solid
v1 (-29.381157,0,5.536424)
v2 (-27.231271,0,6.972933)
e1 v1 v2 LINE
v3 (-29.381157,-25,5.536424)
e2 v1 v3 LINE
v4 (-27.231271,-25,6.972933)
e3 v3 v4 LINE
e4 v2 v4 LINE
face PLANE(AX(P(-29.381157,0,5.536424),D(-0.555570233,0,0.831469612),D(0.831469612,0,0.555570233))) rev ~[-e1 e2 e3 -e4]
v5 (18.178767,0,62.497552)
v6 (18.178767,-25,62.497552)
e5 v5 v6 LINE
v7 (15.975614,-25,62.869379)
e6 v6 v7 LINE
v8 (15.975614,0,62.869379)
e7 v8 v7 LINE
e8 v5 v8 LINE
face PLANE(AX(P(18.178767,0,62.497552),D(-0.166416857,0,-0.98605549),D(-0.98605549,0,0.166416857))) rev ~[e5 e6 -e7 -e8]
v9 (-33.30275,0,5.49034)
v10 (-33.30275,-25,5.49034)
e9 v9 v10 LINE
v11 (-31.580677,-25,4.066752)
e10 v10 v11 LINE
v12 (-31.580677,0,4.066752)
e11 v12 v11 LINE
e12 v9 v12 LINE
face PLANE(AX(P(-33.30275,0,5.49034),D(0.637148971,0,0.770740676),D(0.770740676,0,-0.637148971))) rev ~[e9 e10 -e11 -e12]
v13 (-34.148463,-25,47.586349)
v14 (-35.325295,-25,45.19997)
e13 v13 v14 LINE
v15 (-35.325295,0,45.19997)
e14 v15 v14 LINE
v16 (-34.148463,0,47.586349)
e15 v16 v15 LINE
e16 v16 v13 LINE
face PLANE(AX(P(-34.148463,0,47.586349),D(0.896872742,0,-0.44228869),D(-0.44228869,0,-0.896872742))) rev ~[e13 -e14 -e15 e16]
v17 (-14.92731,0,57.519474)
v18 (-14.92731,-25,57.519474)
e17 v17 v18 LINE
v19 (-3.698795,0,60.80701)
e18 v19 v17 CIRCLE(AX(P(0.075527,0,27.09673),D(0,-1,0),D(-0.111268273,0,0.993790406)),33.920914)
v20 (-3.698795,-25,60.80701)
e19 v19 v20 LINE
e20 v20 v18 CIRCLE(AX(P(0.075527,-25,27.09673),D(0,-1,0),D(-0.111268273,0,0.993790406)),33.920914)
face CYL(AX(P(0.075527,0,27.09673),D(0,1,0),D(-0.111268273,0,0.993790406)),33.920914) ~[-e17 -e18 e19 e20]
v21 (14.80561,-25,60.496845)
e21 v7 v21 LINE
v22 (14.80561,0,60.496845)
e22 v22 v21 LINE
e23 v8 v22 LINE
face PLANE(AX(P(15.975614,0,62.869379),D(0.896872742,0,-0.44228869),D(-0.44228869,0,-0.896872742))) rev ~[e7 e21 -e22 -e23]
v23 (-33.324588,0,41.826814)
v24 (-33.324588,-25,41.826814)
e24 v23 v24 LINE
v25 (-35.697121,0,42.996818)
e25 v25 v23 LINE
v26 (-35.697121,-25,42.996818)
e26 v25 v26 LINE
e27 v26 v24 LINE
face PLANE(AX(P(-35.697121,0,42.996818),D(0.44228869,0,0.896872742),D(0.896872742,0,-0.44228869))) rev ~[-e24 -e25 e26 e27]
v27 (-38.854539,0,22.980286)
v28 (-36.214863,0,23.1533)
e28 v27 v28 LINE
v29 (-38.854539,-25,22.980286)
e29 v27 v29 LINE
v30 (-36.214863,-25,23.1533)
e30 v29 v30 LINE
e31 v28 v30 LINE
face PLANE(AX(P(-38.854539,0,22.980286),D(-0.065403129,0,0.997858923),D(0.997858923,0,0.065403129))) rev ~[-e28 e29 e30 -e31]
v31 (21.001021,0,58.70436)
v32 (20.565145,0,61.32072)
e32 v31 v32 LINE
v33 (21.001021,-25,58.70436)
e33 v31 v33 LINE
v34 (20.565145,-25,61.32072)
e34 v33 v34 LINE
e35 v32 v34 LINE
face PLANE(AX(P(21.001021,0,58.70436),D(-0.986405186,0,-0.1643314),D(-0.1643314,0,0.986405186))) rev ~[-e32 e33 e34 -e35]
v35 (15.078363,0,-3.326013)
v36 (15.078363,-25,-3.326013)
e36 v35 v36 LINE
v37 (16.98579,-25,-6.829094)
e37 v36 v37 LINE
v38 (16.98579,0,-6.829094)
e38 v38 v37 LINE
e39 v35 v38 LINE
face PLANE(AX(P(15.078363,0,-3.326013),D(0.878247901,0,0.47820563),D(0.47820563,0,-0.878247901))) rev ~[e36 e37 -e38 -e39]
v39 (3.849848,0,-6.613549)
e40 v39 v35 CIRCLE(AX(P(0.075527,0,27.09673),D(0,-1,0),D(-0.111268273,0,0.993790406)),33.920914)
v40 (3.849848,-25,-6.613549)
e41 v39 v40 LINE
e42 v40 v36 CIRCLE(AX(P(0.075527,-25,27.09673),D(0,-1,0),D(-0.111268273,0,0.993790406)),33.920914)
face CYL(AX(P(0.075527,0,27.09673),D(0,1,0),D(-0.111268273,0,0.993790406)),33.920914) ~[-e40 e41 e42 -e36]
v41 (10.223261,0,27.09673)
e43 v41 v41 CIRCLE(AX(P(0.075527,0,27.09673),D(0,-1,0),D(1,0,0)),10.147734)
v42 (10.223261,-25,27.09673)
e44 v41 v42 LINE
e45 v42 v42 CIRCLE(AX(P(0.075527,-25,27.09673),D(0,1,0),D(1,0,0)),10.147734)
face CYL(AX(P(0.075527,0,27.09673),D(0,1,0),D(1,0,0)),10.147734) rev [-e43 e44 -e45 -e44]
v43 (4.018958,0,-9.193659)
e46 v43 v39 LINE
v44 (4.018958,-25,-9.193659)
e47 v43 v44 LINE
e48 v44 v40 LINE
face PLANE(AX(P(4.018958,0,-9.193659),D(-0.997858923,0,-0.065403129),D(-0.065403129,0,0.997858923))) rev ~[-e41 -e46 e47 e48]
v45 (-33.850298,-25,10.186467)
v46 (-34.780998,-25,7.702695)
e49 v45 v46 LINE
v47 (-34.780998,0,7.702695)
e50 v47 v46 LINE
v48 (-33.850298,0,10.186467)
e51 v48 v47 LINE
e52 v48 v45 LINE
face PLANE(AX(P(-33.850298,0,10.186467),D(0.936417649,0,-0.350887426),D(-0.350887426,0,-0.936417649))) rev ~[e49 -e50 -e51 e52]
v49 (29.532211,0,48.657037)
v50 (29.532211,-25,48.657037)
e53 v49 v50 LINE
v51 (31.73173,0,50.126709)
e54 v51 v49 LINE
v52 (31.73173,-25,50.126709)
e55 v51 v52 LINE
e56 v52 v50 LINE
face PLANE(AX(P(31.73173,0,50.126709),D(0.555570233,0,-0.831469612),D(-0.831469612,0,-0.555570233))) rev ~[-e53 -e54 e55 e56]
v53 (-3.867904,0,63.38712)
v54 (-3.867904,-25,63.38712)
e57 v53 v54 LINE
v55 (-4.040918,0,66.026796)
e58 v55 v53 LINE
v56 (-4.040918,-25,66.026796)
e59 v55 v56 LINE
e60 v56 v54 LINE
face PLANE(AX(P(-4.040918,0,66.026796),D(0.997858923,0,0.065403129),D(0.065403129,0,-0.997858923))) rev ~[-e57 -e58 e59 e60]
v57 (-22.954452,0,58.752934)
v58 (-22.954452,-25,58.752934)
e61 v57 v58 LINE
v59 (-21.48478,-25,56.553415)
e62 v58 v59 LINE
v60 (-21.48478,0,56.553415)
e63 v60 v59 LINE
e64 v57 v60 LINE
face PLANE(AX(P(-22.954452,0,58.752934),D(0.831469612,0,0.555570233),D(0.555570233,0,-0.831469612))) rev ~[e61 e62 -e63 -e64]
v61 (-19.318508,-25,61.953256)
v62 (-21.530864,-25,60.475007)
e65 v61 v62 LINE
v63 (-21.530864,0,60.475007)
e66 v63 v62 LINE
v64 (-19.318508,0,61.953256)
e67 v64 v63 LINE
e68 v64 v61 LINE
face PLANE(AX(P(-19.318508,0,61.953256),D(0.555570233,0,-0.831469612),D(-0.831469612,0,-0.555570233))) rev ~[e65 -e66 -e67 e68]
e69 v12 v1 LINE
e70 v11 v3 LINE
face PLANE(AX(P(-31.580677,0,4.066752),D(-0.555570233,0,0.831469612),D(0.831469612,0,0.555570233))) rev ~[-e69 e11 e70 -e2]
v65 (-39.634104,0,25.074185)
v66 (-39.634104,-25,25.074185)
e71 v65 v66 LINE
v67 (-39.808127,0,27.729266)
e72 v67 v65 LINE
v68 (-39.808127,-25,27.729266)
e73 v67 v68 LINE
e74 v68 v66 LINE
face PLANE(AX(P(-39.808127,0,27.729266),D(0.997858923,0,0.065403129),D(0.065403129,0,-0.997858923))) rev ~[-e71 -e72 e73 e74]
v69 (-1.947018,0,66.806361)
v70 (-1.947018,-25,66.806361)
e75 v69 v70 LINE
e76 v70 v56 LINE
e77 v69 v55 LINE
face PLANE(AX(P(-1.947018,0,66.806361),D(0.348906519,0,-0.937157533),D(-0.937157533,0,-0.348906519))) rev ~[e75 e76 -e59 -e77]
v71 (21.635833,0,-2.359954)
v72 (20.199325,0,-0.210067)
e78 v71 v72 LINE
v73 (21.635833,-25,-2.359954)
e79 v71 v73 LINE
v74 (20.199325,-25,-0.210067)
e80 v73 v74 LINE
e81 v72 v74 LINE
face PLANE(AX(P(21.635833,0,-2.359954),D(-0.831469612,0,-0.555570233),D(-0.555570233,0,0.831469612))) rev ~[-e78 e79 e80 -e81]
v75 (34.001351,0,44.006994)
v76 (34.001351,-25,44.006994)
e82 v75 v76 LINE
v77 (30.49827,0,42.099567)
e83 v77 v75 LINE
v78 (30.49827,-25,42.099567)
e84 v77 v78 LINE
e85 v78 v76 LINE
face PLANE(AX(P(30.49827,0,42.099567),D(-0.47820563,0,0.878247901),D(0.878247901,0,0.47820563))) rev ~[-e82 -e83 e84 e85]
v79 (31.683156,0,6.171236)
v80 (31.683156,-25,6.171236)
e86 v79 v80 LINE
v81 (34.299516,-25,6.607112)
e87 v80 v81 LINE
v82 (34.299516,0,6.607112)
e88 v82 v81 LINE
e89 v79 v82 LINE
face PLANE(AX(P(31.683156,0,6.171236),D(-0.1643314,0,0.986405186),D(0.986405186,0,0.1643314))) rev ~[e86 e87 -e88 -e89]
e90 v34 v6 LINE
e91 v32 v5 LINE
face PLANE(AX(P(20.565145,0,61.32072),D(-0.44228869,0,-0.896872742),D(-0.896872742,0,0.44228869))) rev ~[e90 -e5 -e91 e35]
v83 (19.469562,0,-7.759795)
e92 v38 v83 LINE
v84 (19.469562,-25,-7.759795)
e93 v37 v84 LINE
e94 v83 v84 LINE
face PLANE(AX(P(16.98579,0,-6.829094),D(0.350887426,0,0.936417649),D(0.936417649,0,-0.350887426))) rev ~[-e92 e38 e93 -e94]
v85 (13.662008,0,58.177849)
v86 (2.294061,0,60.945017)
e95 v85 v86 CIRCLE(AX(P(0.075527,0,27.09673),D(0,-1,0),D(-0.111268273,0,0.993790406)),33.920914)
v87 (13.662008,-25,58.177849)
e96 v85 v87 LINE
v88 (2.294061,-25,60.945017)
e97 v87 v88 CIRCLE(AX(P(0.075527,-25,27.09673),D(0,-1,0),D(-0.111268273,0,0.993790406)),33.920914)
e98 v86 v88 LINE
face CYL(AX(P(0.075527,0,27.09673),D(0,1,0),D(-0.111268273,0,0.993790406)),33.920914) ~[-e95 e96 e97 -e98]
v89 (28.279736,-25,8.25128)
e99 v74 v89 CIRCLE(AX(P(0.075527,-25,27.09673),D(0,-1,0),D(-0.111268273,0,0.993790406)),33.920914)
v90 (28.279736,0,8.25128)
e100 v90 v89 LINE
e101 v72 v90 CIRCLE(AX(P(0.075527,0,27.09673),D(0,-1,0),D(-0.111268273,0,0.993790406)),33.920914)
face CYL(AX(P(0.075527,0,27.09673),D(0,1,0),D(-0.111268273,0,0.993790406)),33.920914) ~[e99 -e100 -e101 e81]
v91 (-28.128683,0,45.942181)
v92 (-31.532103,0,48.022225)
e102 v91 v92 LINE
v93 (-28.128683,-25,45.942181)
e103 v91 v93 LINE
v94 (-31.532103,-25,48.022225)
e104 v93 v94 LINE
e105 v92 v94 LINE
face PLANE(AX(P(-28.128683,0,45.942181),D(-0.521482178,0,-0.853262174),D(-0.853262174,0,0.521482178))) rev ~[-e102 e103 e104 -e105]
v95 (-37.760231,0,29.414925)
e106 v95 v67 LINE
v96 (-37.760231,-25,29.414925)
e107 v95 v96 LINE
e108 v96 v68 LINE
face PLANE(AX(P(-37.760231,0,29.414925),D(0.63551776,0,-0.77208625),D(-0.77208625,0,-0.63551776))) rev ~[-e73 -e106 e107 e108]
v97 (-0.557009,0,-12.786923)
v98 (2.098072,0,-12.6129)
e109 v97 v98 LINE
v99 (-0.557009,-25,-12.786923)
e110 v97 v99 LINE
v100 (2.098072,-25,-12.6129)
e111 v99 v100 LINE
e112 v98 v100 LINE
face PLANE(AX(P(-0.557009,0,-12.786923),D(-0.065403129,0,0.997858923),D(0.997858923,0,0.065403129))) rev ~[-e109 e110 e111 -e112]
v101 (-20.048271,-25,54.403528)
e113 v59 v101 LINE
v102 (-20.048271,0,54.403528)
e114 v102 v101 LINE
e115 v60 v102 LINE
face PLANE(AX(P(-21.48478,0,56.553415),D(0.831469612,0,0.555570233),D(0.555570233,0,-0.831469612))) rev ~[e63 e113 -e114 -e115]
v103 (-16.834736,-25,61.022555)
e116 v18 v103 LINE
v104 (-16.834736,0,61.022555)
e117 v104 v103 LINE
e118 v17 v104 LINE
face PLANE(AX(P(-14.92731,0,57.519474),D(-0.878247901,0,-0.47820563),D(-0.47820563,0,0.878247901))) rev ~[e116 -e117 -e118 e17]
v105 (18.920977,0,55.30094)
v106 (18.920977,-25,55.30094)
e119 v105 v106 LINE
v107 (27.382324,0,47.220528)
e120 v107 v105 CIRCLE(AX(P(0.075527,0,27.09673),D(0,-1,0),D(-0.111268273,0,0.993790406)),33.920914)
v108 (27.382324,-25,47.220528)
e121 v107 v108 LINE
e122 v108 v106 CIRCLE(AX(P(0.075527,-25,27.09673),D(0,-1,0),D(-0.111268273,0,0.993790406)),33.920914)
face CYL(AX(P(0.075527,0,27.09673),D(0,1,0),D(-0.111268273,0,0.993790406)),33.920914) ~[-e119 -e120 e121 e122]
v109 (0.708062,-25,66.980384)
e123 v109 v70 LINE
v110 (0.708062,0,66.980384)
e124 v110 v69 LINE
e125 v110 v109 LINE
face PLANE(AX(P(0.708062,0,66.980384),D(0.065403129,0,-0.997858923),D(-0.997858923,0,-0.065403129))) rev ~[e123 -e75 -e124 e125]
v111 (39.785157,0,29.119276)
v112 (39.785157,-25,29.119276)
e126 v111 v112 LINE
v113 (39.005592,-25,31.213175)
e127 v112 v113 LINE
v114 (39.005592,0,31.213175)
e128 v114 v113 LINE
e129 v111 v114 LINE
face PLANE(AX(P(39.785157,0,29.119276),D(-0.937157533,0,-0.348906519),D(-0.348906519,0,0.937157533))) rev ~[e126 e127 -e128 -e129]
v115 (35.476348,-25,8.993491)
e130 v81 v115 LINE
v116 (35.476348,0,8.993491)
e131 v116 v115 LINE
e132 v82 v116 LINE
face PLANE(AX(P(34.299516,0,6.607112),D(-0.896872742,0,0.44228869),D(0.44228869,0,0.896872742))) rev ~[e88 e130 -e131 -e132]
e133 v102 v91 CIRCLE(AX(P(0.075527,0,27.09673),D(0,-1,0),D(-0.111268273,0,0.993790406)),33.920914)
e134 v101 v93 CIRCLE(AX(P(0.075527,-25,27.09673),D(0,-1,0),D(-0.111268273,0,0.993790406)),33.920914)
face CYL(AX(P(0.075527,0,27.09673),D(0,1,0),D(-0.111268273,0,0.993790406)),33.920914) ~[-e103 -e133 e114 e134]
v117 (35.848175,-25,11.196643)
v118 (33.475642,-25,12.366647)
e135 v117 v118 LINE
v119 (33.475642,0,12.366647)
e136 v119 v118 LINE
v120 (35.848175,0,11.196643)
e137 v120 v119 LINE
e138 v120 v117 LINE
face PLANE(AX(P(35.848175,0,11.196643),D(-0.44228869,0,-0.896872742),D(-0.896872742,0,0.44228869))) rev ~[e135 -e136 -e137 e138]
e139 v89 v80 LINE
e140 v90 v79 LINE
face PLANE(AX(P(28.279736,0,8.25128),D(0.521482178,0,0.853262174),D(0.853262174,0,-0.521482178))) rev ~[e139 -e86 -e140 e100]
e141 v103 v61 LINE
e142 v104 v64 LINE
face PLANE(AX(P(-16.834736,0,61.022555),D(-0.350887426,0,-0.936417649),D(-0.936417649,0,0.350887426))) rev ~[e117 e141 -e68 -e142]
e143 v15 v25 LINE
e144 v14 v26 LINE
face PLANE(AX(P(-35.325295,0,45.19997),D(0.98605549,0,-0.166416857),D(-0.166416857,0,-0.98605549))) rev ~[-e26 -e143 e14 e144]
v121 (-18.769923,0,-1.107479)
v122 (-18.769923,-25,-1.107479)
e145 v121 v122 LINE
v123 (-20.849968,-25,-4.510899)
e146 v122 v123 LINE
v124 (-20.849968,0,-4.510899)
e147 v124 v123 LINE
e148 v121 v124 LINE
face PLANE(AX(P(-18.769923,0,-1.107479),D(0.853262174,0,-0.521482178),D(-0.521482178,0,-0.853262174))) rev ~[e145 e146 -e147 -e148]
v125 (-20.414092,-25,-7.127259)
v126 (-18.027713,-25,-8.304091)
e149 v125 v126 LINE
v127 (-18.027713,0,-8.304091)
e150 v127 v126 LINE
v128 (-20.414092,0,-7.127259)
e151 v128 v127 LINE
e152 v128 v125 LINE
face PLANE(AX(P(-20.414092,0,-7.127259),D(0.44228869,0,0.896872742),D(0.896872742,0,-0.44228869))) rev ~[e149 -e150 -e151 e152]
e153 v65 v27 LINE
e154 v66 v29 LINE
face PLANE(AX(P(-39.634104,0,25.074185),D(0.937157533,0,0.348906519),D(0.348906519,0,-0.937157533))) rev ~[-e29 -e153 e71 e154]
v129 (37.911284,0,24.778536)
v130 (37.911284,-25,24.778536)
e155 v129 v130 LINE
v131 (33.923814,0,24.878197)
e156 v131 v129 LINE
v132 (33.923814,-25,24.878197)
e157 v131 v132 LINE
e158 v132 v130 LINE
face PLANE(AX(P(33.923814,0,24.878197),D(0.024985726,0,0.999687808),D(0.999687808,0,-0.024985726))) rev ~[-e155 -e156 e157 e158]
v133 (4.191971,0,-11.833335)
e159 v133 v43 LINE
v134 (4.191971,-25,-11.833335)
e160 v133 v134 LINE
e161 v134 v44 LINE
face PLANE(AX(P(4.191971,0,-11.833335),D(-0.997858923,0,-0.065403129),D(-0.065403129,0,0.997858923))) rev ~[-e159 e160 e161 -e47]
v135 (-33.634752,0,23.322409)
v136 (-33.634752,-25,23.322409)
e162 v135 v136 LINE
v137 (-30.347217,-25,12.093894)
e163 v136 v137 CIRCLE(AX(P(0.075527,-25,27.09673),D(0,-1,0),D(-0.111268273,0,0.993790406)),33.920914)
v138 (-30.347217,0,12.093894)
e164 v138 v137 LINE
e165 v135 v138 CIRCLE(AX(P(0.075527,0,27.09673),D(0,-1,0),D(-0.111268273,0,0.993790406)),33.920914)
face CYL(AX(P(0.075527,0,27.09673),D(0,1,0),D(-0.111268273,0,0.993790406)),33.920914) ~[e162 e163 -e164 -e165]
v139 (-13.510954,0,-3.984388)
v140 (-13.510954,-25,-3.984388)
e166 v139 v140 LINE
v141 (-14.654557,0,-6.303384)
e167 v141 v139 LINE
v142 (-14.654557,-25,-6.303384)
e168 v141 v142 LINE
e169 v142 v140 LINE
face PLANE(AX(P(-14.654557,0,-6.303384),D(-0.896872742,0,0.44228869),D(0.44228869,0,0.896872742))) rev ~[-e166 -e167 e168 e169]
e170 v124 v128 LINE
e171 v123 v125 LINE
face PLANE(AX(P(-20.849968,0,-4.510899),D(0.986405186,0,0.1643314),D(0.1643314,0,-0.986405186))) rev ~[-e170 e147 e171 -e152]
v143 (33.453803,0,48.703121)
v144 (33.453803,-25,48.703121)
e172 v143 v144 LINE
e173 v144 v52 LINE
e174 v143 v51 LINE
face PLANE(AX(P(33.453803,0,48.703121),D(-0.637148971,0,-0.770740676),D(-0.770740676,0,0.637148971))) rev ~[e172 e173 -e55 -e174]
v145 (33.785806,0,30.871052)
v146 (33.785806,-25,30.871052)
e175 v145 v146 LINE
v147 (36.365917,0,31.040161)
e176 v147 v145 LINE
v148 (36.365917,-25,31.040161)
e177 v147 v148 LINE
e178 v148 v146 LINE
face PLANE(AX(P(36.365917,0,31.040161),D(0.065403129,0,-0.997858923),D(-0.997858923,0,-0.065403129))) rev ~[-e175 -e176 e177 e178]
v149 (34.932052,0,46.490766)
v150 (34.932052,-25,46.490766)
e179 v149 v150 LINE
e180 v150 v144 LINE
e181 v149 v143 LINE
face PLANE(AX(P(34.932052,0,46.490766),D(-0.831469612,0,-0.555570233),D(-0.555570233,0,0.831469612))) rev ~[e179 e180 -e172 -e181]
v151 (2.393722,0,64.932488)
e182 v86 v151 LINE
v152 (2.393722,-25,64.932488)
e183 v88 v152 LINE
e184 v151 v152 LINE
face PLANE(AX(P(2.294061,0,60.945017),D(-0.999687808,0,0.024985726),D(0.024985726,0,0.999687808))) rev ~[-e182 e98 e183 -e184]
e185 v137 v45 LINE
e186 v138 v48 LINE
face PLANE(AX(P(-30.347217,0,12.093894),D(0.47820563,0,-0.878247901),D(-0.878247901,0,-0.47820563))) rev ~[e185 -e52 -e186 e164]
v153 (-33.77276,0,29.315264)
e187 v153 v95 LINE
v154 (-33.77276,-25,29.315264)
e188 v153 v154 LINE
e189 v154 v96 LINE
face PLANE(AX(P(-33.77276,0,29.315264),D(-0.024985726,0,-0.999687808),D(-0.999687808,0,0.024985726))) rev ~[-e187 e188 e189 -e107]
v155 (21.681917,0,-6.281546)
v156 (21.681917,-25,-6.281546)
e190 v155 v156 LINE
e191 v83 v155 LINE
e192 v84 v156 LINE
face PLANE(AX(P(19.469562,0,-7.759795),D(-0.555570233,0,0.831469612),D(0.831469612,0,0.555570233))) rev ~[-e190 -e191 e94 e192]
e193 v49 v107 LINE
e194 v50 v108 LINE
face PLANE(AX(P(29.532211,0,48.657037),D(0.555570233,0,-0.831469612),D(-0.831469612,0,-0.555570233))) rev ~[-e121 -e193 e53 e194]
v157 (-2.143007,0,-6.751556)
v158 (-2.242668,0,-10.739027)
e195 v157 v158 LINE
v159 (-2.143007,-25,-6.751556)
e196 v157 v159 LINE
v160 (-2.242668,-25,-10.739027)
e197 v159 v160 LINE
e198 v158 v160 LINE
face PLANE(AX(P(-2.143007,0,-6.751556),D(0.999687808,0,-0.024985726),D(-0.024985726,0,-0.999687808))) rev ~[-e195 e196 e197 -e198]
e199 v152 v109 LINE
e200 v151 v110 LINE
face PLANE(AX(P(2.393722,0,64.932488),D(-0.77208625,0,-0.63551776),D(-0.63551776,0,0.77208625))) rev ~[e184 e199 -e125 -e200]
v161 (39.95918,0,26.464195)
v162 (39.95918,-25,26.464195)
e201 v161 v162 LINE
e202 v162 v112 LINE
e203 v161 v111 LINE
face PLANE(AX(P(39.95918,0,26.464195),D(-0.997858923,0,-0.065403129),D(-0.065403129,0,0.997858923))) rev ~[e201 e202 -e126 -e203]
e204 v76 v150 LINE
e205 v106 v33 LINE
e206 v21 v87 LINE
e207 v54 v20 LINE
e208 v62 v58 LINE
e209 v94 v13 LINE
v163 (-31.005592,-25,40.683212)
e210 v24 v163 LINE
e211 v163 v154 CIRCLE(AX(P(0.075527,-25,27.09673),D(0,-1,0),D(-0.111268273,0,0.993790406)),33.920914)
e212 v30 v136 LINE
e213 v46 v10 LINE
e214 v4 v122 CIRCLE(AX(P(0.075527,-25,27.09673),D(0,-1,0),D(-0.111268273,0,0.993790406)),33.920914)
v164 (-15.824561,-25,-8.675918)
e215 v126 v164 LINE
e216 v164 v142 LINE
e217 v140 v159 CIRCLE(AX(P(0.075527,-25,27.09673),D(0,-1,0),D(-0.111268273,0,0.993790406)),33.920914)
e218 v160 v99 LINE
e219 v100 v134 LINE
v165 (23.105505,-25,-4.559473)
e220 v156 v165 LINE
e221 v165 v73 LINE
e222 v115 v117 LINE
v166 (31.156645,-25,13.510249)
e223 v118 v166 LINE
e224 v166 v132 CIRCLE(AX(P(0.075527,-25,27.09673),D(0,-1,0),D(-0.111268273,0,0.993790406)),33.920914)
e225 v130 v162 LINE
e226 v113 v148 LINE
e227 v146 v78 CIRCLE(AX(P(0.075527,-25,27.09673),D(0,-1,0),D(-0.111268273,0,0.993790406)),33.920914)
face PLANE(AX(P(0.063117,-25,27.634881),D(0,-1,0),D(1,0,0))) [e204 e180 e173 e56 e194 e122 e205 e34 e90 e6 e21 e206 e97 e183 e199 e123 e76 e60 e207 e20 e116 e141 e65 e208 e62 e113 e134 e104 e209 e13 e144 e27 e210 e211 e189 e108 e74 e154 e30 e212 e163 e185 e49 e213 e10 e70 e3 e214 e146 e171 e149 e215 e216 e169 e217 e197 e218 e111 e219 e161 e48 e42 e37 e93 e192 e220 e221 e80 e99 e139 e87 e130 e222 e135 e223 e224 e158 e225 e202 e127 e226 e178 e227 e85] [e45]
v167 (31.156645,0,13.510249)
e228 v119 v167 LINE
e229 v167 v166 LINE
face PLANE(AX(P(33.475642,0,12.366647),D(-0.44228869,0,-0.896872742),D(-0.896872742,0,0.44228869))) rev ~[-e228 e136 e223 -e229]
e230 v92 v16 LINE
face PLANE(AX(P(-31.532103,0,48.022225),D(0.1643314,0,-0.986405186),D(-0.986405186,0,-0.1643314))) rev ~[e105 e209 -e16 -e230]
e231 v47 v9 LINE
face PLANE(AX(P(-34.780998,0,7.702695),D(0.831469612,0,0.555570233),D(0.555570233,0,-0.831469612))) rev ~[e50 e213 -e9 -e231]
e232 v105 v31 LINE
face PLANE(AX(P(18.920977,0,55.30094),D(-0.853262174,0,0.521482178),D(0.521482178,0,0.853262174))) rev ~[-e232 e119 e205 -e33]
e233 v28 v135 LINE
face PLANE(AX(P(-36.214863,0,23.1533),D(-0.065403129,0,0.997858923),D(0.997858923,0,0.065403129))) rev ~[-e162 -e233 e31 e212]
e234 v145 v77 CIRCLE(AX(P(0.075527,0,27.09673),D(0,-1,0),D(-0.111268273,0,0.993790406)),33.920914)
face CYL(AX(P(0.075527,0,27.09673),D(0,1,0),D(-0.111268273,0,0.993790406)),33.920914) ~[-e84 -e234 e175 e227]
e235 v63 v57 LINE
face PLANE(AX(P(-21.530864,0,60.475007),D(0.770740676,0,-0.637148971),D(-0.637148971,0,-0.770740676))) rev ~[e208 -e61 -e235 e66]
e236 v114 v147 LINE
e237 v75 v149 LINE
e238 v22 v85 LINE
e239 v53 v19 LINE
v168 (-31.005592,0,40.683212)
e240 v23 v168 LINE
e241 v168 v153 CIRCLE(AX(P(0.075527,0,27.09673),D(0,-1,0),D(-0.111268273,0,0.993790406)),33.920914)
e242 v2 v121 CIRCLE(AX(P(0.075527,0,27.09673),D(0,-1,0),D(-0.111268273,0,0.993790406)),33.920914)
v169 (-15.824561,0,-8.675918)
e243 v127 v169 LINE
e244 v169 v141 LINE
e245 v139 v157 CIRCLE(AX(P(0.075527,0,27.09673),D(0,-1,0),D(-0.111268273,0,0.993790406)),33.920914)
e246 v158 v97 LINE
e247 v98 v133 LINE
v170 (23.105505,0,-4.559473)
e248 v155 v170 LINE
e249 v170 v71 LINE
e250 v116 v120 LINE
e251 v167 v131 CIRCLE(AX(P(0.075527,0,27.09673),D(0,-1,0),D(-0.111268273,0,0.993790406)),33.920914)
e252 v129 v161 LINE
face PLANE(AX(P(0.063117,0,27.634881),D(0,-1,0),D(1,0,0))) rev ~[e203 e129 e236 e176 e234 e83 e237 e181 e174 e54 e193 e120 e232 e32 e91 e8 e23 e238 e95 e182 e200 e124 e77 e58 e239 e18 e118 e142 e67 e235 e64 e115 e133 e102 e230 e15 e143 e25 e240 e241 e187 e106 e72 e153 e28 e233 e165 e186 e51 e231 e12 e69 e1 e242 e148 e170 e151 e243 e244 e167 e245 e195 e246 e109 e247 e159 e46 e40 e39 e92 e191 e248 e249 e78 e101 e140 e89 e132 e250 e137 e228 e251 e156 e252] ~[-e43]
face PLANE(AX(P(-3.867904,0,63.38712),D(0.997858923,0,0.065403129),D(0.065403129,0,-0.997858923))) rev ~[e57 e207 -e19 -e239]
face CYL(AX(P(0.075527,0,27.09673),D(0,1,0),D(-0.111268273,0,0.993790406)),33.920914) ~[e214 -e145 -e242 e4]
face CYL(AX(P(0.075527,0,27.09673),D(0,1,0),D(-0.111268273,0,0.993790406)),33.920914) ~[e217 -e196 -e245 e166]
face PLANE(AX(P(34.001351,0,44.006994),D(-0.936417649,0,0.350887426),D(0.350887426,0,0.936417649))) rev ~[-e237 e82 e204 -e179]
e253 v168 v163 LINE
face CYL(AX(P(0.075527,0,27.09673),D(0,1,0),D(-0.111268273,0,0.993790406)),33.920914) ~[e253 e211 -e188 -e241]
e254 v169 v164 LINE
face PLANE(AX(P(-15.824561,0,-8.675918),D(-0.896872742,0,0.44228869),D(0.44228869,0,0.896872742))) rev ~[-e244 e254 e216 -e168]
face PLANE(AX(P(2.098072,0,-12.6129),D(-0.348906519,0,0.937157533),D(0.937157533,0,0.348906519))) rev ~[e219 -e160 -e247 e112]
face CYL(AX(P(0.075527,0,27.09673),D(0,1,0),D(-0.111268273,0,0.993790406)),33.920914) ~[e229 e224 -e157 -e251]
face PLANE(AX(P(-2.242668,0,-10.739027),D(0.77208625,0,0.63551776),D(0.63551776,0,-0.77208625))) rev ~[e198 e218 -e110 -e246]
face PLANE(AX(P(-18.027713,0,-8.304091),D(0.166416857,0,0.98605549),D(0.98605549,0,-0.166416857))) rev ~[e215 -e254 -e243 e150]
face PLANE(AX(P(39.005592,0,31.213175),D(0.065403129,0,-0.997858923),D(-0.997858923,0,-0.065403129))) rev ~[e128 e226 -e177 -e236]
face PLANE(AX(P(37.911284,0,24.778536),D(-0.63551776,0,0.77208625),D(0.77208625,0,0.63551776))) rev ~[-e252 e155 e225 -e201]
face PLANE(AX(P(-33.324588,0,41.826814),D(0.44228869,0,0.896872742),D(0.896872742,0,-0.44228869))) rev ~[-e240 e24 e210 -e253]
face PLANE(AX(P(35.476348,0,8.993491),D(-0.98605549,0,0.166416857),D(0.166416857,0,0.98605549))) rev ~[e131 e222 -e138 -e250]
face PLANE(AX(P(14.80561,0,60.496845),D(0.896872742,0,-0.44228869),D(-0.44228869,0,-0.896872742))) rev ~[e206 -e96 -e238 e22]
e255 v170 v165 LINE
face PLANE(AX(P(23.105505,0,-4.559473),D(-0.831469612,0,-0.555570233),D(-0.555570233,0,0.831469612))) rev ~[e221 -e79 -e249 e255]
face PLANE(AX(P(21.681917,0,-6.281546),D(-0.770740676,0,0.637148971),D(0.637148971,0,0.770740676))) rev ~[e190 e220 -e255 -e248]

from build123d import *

# Parameters (mm, degrees)
F0_R     = 21.7005672346
F0_R_2   = 10.1477344841
F1_DEPTH = 25
F2_COUNT = 12


with BuildPart() as f1:
    # F0 (on Front) → F1 (new body)
    with BuildSketch(Plane.XZ):
        with BuildLine():
            Line((0.0755267103, 61.0092692077), (-0.678219289, 61.0092692077))
            ThreePointArc((-0.678219289, 61.0092692077), (-1.4109604477, 60.9850584399), (-2.1430072202, 60.9450173375))
            ThreePointArc((-2.1430072202, 60.9450173375), (-2.9216954454, 60.8849691932), (-3.6987948092, 60.8070095215))
            ThreePointArc((-3.6987948092, 60.8070095215), (0.8564750407, -6.8151927129), (2.2940606408, 60.9450173375))
            Line((2.2940606408, 60.9450173375), (0.0755267103, 61.0092692077))
        make_face()
        with BuildLine():
            ThreePointArc((-1.4440762441, 52.1542261029), (17.2807567209, 45.3769750136), (25.1790579289, 27.0967304878))
            ThreePointArc((25.1790579289, 27.0967304878), (-17.1297033003, 8.816485962), (-1.4440762441, 52.1542261029))
        make_face(mode=Mode.SUBTRACT)
        with BuildLine():
            ThreePointArc((-1.4440762441, 52.1542261029), (-17.1297033003, 8.816485962), (25.1790579289, 27.0967304878))
            ThreePointArc((25.1790579289, 27.0967304878), (17.2807567209, 45.3769750136), (-1.4440762441, 52.1542261029))
        make_face()
        with Locations((0.0755267103, 27.0967304878)):
            Circle(F0_R, mode=Mode.SUBTRACT)
        with Locations((0.0755267103, 27.0967304878)):
            Circle(F0_R)
        with Locations((0.0755267103, 27.0967304878)):
            Circle(F0_R_2, mode=Mode.SUBTRACT)
        with BuildLine():
            ThreePointArc((-2.1430072202, 60.9450173375), (-1.4109604477, 60.9850584399), (-0.678219289, 61.0092692077))
            Line((-0.678219289, 61.0092692077), (0.0755267103, 61.0092692077))
            Line((0.0755267103, 61.0092692077), (2.2940606408, 60.9450173375))
            Line((2.2940606408, 60.9450173375), (2.3937216029, 64.932487905))
            Line((2.3937216029, 64.932487905), (0.7080621371, 66.9803842463))
            Line((0.7080621371, 66.9803842463), (-1.9470183179, 66.8063610792))
            Line((-1.9470183179, 66.8063610792), (-4.0409177, 66.0267961504))
            Line((-4.0409177, 66.0267961504), (-3.8679042053, 63.38712032))
            Line((-3.8679042053, 63.38712032), (-3.6987948092, 60.8070095215))
            ThreePointArc((-3.6987948092, 60.8070095215), (-2.9216954454, 60.8849691932), (-2.1430072202, 60.9450173375))
        make_face()
    extrude(amount=F1_DEPTH)

    # F2: F1 ×12 about axis
    f2_axis = Axis((0.0755267103, 0, 27.0967304878), (0, 1, 0))


with BuildPart() as f1_1:
    add(f1.part)
    for i in range(1, F2_COUNT):
        add(f1.part.rotate(f2_axis, i * 360 / F2_COUNT))


solid = f1_1.part
